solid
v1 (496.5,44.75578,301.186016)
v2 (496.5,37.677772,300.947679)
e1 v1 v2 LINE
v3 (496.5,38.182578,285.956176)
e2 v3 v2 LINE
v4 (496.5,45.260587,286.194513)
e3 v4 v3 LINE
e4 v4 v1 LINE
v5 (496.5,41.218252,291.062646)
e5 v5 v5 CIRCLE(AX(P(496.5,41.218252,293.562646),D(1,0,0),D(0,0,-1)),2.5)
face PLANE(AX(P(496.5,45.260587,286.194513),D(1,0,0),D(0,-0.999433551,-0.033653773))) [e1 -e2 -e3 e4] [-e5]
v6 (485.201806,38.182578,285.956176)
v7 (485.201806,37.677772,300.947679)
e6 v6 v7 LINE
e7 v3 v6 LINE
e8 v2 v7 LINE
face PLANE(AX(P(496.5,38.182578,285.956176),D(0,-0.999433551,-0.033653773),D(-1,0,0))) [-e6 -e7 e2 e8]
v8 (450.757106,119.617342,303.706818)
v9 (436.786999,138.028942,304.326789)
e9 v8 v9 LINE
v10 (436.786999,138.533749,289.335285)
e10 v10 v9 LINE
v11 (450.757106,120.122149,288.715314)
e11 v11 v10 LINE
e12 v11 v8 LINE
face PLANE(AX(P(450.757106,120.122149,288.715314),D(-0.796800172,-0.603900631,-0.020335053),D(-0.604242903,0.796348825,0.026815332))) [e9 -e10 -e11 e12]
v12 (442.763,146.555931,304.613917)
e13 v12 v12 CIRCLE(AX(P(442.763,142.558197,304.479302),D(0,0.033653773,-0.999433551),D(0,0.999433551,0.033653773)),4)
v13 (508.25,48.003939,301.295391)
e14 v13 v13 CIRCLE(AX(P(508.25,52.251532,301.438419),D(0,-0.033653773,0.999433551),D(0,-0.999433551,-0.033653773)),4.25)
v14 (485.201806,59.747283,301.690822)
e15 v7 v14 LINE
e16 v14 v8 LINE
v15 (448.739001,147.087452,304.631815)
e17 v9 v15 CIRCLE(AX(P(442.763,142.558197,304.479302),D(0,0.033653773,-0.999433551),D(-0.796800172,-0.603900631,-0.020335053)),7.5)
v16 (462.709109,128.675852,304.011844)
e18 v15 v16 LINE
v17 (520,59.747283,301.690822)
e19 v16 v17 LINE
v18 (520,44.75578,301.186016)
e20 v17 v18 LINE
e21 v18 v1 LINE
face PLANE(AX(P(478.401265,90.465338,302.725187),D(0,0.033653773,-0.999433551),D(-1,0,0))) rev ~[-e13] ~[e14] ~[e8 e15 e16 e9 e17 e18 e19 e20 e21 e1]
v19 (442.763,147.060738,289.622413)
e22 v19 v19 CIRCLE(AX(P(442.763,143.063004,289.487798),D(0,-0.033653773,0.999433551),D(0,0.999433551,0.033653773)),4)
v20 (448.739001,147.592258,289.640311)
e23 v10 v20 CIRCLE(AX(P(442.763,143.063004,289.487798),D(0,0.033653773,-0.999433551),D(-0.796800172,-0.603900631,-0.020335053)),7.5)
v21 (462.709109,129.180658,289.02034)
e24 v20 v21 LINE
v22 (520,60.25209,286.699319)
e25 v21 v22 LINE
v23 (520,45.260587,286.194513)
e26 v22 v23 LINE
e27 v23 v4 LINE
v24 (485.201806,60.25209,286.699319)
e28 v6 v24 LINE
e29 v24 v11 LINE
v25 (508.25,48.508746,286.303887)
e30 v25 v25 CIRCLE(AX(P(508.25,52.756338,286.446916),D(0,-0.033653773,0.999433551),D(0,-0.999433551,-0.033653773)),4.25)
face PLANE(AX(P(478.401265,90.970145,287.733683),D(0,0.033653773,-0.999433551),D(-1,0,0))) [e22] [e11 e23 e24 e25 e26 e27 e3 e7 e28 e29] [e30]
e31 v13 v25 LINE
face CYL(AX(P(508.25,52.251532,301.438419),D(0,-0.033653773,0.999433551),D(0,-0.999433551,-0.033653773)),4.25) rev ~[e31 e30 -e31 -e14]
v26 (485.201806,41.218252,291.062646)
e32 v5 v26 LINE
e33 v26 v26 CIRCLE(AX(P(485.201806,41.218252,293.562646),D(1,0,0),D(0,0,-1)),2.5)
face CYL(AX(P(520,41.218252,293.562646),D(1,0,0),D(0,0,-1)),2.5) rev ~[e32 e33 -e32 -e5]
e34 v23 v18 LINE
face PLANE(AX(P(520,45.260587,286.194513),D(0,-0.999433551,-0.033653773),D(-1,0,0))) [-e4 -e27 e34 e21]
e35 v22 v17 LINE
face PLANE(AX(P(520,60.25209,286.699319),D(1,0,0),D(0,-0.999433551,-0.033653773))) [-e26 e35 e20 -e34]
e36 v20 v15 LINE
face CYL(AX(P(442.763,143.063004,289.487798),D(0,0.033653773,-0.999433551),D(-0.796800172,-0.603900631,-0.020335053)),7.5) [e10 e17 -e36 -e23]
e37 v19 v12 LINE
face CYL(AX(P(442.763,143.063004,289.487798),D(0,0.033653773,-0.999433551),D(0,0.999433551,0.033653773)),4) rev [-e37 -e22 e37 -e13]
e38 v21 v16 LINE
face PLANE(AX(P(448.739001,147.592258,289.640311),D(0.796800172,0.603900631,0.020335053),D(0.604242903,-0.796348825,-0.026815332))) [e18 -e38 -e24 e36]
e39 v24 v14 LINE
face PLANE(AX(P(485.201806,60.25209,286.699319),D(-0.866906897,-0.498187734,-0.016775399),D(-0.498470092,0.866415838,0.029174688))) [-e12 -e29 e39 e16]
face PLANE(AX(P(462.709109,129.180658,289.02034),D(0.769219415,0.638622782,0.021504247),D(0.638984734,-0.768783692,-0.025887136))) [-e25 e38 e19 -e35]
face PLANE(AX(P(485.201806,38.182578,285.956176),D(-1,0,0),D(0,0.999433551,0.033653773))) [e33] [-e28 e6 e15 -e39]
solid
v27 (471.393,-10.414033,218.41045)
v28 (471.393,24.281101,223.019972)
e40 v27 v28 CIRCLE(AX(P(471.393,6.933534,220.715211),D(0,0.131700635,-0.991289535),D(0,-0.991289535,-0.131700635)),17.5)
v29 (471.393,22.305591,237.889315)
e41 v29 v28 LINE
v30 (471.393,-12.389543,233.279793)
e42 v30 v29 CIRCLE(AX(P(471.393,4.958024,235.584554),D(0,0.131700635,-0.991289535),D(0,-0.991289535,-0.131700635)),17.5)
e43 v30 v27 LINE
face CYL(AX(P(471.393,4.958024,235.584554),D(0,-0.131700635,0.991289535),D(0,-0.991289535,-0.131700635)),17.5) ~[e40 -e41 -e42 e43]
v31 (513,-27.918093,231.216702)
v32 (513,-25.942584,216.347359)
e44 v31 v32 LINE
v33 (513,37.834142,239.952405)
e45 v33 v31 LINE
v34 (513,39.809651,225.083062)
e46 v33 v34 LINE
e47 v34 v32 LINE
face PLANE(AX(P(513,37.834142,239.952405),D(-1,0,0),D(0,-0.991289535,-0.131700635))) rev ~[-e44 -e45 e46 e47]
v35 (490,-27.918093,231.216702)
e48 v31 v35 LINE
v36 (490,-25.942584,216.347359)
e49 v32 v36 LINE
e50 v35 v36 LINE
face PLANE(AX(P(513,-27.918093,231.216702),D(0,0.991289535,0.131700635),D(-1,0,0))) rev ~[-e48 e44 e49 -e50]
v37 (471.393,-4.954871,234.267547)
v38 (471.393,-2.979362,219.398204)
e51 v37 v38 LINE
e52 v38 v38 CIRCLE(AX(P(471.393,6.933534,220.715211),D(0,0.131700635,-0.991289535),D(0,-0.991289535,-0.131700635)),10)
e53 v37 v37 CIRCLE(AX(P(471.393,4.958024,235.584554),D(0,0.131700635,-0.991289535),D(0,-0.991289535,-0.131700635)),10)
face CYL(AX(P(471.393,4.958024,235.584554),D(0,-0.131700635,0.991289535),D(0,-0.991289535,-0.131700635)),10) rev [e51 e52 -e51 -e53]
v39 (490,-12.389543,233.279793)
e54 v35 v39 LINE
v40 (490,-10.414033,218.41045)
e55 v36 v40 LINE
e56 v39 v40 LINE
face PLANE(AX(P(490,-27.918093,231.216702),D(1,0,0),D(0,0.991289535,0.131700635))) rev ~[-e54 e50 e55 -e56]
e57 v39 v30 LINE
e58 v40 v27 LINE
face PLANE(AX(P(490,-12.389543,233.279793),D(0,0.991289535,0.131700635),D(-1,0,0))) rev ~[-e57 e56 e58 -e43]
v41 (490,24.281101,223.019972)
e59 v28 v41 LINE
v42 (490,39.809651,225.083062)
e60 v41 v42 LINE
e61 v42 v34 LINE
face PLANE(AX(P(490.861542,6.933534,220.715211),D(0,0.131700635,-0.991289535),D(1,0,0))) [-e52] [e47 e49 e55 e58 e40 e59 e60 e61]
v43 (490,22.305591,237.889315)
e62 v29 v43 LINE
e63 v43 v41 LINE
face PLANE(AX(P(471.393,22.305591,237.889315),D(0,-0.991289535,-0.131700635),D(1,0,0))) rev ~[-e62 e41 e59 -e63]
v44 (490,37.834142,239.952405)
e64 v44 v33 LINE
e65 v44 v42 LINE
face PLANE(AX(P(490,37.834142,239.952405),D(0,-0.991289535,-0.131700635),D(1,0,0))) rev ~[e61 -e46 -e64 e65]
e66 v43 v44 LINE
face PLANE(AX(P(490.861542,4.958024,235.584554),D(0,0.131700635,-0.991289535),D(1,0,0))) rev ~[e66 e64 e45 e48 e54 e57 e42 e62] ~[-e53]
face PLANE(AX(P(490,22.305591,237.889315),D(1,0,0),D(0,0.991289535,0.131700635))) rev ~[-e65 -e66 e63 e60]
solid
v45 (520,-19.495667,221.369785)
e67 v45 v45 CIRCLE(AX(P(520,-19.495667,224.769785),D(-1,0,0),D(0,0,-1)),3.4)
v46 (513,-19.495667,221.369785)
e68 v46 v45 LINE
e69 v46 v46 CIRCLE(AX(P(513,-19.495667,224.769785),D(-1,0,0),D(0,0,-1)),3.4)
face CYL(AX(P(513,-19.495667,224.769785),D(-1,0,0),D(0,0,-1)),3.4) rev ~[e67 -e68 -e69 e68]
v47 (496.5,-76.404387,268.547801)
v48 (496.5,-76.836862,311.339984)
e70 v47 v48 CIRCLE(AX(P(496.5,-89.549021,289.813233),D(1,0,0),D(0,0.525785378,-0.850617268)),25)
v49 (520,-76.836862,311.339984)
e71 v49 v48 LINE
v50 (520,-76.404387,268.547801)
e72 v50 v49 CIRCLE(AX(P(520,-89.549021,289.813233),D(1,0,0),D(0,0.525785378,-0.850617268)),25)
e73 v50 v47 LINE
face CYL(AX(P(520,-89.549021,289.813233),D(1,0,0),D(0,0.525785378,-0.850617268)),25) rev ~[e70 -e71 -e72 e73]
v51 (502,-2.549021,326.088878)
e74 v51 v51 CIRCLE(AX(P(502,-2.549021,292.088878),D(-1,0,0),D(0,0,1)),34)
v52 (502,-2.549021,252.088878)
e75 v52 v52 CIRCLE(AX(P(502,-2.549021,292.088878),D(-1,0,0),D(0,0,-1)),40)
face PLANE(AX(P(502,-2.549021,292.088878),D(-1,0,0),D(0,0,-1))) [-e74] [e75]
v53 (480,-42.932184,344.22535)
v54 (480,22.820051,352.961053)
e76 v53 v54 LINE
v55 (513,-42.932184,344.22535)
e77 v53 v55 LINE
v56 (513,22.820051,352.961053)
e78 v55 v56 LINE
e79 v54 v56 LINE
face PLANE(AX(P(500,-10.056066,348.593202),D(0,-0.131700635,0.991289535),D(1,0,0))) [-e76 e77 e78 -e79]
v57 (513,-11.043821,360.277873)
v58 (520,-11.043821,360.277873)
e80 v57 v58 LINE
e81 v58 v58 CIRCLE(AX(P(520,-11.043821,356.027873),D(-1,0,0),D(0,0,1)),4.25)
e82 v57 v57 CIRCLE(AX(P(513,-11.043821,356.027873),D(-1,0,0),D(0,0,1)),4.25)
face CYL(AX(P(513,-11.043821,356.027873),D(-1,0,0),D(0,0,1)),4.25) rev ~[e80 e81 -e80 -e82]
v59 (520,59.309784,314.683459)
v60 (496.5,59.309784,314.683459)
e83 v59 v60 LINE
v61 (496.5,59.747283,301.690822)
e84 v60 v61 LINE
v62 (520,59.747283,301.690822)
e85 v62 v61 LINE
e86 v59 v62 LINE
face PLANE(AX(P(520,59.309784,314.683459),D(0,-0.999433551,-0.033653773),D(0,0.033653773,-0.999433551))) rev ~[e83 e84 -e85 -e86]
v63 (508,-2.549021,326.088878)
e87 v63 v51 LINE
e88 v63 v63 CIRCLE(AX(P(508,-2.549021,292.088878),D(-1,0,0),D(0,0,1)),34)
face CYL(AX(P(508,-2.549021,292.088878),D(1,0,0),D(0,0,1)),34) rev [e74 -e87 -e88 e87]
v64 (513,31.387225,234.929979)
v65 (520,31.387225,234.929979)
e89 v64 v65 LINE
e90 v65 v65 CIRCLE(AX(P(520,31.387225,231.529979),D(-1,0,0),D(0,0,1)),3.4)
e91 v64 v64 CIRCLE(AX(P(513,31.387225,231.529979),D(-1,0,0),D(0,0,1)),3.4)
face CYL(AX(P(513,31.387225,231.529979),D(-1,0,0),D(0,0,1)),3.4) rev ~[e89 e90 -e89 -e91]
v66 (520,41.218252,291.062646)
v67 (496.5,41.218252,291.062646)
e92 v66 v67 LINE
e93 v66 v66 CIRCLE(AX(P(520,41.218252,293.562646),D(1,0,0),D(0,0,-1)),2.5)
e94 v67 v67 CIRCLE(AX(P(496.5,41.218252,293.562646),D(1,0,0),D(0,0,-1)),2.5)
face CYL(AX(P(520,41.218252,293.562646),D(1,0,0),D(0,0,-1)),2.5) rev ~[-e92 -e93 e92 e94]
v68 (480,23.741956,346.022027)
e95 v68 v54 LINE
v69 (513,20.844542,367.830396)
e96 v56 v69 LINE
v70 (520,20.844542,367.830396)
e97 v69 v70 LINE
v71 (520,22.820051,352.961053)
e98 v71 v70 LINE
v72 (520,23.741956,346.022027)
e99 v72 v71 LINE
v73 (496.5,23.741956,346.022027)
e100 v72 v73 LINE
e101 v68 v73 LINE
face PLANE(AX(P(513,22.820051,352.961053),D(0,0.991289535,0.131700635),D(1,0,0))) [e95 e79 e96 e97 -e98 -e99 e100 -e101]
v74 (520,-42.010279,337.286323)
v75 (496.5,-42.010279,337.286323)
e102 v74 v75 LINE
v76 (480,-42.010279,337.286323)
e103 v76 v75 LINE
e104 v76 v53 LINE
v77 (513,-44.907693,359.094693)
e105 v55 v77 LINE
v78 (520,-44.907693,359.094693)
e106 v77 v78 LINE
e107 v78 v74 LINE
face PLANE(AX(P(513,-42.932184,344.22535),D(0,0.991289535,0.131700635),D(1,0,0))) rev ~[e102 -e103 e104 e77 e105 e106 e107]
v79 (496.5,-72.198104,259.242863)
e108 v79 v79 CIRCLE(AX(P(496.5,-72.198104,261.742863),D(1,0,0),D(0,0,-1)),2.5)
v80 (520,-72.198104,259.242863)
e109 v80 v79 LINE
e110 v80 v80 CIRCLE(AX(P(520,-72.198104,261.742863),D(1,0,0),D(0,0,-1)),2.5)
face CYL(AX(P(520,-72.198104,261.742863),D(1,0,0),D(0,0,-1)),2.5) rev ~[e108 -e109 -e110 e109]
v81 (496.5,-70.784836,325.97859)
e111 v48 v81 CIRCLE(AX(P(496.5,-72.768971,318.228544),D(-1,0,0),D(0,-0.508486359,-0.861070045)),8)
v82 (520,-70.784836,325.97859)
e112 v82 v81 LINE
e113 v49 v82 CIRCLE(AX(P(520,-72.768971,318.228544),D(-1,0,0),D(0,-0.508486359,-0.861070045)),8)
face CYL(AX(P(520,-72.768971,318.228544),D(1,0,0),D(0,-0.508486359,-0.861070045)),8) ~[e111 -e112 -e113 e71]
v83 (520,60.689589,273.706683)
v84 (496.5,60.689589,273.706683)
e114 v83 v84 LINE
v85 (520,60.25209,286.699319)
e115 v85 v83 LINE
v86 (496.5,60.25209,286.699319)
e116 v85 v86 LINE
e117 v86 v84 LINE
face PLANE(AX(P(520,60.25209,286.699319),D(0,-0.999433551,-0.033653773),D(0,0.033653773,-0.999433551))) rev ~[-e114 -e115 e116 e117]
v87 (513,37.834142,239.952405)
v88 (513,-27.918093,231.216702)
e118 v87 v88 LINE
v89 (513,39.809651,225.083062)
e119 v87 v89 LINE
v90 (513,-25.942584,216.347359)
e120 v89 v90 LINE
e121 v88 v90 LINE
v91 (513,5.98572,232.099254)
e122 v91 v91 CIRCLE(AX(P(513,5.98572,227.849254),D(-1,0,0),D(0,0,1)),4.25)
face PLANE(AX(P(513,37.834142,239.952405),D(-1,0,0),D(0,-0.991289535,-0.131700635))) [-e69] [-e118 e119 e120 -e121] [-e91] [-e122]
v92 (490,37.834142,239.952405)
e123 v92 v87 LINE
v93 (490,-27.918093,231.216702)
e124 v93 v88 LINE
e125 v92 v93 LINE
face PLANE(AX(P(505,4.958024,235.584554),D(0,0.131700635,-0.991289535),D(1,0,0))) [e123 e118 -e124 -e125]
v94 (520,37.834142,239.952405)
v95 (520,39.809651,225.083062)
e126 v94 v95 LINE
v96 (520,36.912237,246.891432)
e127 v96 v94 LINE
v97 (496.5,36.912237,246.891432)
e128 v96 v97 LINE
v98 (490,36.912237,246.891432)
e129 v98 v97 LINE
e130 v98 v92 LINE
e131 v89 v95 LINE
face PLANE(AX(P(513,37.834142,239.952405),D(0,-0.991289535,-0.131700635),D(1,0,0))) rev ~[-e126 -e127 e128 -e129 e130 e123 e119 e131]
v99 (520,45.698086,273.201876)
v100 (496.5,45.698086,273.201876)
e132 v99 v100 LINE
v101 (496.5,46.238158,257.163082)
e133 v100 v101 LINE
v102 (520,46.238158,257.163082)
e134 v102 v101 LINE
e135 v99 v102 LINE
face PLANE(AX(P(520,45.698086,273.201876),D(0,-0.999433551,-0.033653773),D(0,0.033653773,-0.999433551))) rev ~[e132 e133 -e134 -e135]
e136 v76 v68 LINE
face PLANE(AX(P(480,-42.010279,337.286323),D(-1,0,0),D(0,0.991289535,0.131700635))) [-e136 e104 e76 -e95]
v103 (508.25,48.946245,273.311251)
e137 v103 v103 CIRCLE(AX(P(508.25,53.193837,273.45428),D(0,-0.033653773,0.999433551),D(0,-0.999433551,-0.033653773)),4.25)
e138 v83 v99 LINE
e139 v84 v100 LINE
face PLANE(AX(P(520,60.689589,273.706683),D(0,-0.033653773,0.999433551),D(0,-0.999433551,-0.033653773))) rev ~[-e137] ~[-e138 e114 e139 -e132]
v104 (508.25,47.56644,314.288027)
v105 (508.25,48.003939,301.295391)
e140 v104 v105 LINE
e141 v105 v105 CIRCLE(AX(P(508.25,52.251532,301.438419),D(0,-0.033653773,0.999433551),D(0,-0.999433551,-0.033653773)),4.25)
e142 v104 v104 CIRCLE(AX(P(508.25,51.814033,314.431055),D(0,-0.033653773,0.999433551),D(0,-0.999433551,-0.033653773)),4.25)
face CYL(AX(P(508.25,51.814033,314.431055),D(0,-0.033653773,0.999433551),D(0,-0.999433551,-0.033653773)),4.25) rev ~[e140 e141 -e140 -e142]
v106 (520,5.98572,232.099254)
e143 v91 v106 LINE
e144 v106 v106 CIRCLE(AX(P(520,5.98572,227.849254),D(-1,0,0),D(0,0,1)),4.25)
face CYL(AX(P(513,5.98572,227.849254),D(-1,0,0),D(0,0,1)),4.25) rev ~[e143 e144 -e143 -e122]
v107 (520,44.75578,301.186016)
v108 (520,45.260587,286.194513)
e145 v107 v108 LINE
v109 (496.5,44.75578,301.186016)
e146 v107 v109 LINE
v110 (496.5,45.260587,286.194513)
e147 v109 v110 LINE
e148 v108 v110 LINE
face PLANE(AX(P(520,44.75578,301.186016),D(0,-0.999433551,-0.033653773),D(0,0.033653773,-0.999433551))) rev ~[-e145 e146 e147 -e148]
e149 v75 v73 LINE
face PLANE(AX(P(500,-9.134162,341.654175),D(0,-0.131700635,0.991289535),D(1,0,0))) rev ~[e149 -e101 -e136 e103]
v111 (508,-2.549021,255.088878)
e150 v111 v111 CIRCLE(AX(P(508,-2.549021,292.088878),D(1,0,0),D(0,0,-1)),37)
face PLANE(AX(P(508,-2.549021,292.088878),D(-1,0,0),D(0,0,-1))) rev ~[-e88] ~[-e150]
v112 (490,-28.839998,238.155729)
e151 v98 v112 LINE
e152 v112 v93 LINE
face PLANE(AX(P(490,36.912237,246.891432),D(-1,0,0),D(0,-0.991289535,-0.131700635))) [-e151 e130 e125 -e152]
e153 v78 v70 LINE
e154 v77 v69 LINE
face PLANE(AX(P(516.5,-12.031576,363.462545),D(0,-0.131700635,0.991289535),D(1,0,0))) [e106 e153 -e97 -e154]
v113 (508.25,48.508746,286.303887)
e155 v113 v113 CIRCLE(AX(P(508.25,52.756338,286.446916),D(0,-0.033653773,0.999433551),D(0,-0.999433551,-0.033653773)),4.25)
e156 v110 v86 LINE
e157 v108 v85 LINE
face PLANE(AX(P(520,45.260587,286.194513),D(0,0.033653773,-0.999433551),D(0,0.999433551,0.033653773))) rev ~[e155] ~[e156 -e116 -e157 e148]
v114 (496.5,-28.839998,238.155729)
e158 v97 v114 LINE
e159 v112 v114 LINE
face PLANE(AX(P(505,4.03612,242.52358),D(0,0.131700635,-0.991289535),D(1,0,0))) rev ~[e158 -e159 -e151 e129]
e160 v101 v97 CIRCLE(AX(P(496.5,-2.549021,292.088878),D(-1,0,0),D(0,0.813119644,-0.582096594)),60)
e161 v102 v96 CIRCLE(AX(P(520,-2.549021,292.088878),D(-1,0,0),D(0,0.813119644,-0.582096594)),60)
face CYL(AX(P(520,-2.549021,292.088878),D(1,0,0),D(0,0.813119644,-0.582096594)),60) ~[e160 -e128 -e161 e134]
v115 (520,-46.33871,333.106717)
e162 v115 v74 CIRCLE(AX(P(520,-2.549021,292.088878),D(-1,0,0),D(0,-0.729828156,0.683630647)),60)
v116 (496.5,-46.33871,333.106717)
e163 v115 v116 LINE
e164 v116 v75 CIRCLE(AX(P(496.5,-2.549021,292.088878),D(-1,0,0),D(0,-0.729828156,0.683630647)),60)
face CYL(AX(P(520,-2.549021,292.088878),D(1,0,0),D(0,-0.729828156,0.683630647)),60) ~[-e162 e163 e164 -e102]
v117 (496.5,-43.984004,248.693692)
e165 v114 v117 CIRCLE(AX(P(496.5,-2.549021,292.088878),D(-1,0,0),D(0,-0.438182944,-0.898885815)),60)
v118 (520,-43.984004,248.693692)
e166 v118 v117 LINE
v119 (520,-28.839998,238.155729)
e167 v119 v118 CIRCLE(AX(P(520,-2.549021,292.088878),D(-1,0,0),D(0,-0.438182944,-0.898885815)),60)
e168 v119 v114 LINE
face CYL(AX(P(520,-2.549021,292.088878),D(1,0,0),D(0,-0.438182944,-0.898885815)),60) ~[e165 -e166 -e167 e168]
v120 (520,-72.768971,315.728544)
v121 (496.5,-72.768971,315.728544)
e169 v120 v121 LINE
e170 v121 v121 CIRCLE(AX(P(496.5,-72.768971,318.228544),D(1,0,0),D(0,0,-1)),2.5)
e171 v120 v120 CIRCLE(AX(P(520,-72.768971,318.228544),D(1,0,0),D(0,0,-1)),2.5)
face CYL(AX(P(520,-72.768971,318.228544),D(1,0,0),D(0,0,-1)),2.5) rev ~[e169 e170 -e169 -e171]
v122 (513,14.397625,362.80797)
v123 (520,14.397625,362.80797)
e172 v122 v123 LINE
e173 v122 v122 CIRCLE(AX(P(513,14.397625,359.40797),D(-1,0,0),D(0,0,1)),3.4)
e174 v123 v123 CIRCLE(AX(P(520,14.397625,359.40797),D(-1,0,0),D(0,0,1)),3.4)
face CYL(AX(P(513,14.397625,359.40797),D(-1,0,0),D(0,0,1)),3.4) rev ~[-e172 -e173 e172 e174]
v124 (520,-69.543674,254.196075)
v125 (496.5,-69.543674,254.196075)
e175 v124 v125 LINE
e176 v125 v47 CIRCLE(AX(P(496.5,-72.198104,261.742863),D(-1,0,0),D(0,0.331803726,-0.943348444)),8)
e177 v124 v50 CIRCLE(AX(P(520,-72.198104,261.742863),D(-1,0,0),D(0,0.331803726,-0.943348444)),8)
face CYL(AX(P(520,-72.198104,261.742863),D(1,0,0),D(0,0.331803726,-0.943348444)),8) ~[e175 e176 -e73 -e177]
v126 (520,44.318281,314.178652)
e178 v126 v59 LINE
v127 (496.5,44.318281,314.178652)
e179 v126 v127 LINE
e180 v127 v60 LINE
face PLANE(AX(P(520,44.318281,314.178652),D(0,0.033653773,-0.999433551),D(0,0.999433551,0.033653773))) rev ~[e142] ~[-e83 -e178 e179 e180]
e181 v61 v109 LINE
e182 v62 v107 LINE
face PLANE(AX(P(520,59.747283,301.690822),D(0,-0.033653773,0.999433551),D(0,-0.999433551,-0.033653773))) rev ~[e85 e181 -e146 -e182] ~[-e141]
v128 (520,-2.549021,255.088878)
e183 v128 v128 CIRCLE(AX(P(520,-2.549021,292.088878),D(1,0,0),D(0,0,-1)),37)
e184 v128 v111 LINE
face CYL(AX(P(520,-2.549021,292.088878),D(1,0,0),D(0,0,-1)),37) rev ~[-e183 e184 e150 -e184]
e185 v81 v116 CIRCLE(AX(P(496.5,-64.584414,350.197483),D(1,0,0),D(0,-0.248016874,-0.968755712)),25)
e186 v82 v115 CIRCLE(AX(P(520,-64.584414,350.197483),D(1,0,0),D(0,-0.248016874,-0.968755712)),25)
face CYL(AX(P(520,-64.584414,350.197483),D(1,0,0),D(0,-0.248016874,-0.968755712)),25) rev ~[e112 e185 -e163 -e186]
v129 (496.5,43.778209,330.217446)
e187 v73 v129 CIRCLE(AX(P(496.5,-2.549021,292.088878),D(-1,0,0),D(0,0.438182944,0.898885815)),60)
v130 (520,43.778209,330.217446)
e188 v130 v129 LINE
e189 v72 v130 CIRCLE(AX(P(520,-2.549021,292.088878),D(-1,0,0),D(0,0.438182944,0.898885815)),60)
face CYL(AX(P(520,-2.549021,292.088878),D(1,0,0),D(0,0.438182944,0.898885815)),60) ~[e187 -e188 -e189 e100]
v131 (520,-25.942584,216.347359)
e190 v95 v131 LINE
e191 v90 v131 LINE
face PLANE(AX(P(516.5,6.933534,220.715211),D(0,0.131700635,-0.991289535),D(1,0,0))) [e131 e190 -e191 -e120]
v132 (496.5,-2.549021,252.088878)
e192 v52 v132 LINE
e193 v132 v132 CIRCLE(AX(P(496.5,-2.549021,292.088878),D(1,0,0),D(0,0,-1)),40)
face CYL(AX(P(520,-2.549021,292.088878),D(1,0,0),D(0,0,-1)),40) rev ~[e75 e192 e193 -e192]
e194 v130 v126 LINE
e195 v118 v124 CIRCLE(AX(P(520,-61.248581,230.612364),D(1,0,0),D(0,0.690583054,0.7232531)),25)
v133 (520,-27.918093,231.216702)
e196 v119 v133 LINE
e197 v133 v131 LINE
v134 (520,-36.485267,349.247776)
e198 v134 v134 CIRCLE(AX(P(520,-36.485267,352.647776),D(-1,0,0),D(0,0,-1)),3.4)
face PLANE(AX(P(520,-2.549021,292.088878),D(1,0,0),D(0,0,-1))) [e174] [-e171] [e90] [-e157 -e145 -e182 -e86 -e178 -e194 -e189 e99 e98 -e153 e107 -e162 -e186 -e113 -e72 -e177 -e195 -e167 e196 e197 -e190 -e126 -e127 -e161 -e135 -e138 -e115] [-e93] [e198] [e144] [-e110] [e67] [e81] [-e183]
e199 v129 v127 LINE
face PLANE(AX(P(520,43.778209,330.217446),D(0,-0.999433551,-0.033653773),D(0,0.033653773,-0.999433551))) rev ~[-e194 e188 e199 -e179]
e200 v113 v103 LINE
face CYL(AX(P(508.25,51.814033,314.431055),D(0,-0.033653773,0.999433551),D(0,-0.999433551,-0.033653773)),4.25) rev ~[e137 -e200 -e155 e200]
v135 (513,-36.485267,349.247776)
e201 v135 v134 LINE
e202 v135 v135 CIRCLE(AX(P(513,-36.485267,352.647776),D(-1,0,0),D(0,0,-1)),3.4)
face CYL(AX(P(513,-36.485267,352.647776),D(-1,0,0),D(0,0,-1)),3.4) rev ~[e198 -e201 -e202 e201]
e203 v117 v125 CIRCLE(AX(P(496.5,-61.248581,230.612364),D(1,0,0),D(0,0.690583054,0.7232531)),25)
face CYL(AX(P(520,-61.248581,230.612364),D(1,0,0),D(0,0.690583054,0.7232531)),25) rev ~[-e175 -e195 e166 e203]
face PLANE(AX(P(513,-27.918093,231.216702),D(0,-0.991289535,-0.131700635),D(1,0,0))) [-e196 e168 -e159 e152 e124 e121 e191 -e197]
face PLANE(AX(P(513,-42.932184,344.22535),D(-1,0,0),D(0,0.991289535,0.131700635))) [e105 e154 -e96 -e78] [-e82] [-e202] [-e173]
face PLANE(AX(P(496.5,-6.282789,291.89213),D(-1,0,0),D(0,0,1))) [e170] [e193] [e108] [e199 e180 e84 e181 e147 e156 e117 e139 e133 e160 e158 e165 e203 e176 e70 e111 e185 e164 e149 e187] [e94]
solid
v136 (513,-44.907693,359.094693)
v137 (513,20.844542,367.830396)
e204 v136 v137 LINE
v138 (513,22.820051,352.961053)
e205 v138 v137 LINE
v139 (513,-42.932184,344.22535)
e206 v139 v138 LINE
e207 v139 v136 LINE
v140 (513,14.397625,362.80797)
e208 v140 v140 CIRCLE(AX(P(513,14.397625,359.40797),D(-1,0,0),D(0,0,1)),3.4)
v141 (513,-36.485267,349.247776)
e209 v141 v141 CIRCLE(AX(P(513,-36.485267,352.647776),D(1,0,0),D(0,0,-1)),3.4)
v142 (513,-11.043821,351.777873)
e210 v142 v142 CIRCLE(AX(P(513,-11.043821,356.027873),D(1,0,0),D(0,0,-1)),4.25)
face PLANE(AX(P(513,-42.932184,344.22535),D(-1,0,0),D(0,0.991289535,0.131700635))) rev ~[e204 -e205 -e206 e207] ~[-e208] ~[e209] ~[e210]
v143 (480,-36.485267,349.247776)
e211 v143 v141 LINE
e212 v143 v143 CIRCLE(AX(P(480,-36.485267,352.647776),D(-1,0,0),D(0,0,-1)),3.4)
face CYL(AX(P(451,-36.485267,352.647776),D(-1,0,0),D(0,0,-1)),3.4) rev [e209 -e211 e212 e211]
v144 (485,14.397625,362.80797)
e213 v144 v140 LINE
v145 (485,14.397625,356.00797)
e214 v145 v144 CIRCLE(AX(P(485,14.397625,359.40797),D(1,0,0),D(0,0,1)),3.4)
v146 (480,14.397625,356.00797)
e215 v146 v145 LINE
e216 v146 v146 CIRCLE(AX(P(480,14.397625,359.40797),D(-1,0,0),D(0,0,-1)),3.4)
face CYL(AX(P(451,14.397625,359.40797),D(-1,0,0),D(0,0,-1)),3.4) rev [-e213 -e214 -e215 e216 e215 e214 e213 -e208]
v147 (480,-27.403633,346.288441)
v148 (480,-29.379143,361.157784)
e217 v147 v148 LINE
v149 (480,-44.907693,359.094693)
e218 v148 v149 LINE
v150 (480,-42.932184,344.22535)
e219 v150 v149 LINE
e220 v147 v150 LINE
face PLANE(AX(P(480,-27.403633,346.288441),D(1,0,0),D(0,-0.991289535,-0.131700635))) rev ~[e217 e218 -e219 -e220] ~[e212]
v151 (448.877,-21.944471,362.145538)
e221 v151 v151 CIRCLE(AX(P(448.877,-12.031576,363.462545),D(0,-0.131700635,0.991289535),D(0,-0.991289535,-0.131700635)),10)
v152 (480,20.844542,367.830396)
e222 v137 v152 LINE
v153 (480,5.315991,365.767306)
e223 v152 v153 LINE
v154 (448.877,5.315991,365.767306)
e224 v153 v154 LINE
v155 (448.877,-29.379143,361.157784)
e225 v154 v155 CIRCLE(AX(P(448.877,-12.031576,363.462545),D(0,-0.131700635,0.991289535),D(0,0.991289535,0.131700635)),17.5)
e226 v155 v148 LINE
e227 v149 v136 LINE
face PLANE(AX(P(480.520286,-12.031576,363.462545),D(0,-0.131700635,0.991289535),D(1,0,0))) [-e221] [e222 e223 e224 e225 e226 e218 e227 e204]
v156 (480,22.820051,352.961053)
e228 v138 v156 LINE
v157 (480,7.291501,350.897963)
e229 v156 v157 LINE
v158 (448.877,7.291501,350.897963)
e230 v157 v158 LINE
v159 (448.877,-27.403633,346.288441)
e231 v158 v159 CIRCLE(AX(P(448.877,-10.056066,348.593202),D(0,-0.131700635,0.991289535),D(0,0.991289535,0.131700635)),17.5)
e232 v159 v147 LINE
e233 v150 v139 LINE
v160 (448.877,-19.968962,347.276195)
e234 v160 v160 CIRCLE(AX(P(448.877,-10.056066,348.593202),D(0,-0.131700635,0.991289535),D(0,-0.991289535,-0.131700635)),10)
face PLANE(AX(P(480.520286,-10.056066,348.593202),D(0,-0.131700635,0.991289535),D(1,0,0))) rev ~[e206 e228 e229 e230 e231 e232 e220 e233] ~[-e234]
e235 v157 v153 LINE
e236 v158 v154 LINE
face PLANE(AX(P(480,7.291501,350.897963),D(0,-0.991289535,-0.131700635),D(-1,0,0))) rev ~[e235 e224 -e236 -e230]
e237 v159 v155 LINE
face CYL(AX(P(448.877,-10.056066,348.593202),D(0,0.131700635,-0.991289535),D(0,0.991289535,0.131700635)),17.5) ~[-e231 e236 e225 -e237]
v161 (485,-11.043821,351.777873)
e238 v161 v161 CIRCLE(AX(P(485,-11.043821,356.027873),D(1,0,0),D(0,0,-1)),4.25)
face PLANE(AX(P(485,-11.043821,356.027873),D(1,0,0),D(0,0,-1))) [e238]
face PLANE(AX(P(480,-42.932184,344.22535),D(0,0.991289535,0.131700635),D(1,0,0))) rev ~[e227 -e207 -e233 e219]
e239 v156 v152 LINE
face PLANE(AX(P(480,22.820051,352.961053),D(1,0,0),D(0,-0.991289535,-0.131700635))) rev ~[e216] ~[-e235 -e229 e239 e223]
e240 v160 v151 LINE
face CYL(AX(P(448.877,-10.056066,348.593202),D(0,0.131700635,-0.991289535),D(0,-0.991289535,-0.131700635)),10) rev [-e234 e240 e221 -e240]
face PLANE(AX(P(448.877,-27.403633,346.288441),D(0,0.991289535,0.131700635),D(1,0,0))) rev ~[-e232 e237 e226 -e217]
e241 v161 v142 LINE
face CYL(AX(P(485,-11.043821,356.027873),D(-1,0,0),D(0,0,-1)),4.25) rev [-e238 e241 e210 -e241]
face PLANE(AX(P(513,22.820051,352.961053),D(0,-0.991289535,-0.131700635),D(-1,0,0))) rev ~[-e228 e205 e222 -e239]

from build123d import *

# Parameters (mm, degrees)
BOSS_EXTRUDE1_DEPTH  = 23.5
SKETCH2_R            = 40
SKETCH2_R_2          = 2.5
CUT_EXTRUDE3_DEPTH   = 54.5
SKETCH3_R            = 4.25
CUT_EXTRUDE4_DEPTH   = 54.5
SKETCH5_W            = 30
SKETCH5_H            = 66.33
BOSS_EXTRUDE2_DEPTH  = 7
SKETCH8_W            = 7
SKETCH8_H            = 66.33
BOSS_EXTRUDE4_DEPTH  = 15
SKETCH9_R            = 3.4
SKETCH9_R_2          = 4.25
CUT_EXTRUDE7_DEPTH   = 15
SKETCH13_W           = 40
SKETCH13_H           = 66.33
BOSS_EXTRUDE9_DEPTH  = 7
SKETCH16_W           = 7
SKETCH16_H           = 66.33
BOSS_EXTRUDE10_DEPTH = 15
SKETCH18_R           = 3.4
SKETCH18_R_2         = 4.25
CUT_EXTRUDE10_DEPTH  = 15
SKETCH19_R           = 40
SKETCH19_R_2         = 34
BOSS_EXTRUDE11_DEPTH = 6
BOSS_EXTRUDE12_START = 12
SKETCH20_R           = 40
SKETCH20_R_2         = 37
BOSS_EXTRUDE12_DEPTH = 12
SKETCH22_R           = 10
BOSS_EXTRUDE13_DEPTH = 15
CUT_EXTRUDE11_START  = -28
SKETCH23_R           = 3.4
SKETCH23_R_2         = 4.25
CUT_EXTRUDE11_DEPTH  = 28
CUT_EXTRUDE12_START  = -62
SKETCH23_2_R         = 3.4
CUT_EXTRUDE12_DEPTH  = 62
CUT_EXTRUDE13_START  = -62
SKETCH23_3_R         = 3.4
CUT_EXTRUDE13_DEPTH  = 62
SKETCH25_R           = 10
BOSS_EXTRUDE14_DEPTH = 15
BOSS_EXTRUDE15_DEPTH = 15
SKETCH26_4_R         = 4
CUT_EXTRUDE15_DEPTH  = 89
SKETCH2_2_R          = 2.5
CUT_EXTRUDE16_DEPTH  = 89
SKETCH27_R           = 4.25
CUT_EXTRUDE17_DEPTH  = 36


with BuildPart() as part:
    # Sketch1 → Boss-Extrude1 (new body)
    with BuildSketch(Plane(origin=(520, -2.549021019, 292.088877727), x_dir=(0, 0, 1), z_dir=(-1, 0, 0))):
        with BuildLine():
            Line((22.089774265, 46.867302095), (22.594580859, 61.858805365))
            Line((22.594580859, 61.858805365), (9.601944692, 62.296304413))
            Line((9.601944692, 62.296304413), (9.097138098, 47.304801143))
            Line((9.097138098, 47.304801143), (-5.894365173, 47.809607737))
            Line((-5.894365173, 47.809607737), (-5.389558579, 62.801111007))
            Line((-5.389558579, 62.801111007), (-18.382194746, 63.238610055))
            Line((-18.382194746, 63.238610055), (-18.88700134, 48.247106785))
            Line((-18.88700134, 48.247106785), (-34.925795618, 48.787178648))
            ThreePointArc((-34.925795618, 48.787178648), (-40.332079644, 44.422104313), (-45.197445717, 39.461258224))
            Line((-45.197445717, 39.461258224), (-53.93314887, -26.290976646))
            ThreePointArc((-53.93314887, -26.290976646), (-49.249735275, -34.270447552), (-43.395185974, -41.434983218))
            ThreePointArc((-43.395185974, -41.434983218), (-37.0364227, -53.438194383), (-37.892802357, -66.994652715))
            ThreePointArc((-37.892802357, -66.994652715), (-33.796367, -76.866773964), (-23.541076661, -73.855365549))
            ThreePointArc((-23.541076661, -73.855365549), (-2.022997547, -62.001276647), (19.251106158, -74.287841015))
            ThreePointArc((19.251106158, -74.287841015), (29.196183083, -77.613035185), (33.889712216, -68.235815149))
            ThreePointArc((33.889712216, -68.235815149), (34.108079038, -55.03719694), (41.017838842, -43.789689389))
            ThreePointArc((41.017838842, -43.789689389), (43.161935221, -41.677899995), (45.197445717, -39.461258224))
            Line((45.197445717, -39.461258224), (53.93314887, 26.290976646))
            ThreePointArc((53.93314887, 26.290976646), (47.108415572, 37.159079407), (38.128568543, 46.327230231))
            Line((38.128568543, 46.327230231), (22.089774265, 46.867302095))
        make_face()
    extrude(amount=BOSS_EXTRUDE1_DEPTH)

    # Sketch2 → Cut-Extrude3 (cut)
    with BuildSketch(Plane.YZ.offset(520)):
        with Locations(Location((-2.549021019, 292.088877727, 0), (0, 0, 270))):
            Circle(SKETCH2_R)
        with Locations(Location((-72.768971159, 318.228544244, 0), (0, 0, 270))):
            Circle(SKETCH2_R_2)
        with Locations(Location((-72.198103544, 261.742862924, 0), (0, 0, 270))):
            Circle(SKETCH2_R_2)
        with Locations(Location((41.218252228, 293.562646417, 0), (0, 0, 270))):
            Circle(SKETCH2_R_2)
    extrude(amount=-CUT_EXTRUDE3_DEPTH, mode=Mode.SUBTRACT)

    # Sketch3 → Cut-Extrude4 (cut)
    with BuildSketch(Plane(origin=(0, -10.517113943, 312.332188133), x_dir=(1, 0, 0), z_dir=(1.6236027295165796e-15, -0.03365377293051974, 0.999433551351735))):
        with Locations(Location((508.25, 62.366474059, 0), (0, 0, 270))):
            Circle(SKETCH3_R)
    extrude(amount=-CUT_EXTRUDE4_DEPTH, mode=Mode.SUBTRACT)

    # Sketch5 → Boss-Extrude2 (add)
    with BuildSketch(Plane(origin=(0, -31.592286251, 237.790065605), x_dir=(1, 0, 0), z_dir=(-1.722759387163354e-15, 0.13170063549249003, -0.991289535206982))):
        with Locations((505, -35.941472956)):
            Rectangle(SKETCH5_W, SKETCH5_H)
    extrude(amount=BOSS_EXTRUDE2_DEPTH)

    # Sketch8 → Boss-Extrude4 (add)
    with BuildSketch(Plane(origin=(0, -30.670381803, 230.851038858), x_dir=(1, 0, 0), z_dir=(-2.1092287106944035e-15, 0.13170063549249048, -0.9912895352069819))):
        with Locations((516.5, -35.941472956)):
            Rectangle(SKETCH8_W, SKETCH8_H)
    extrude(amount=BOSS_EXTRUDE4_DEPTH)

    # Sketch9 → Cut-Extrude7 (cut)
    with BuildSketch(Plane(origin=(513, 0, 0), x_dir=(0, -1, 0), z_dir=(-1, 0, 0))):
        with Locations(Location((-31.387224906, 231.529978983, 0), (0, 0, 90))):
            Circle(SKETCH9_R)
        with Locations(Location((-5.985719838, 227.849253782, 0), (0, 0, 90))):
            Circle(SKETCH9_R_2)
        with Locations(Location((19.495666937, 224.769785363, 0), (0, 0, 270))):
            Circle(SKETCH9_R)
    extrude(amount=-CUT_EXTRUDE7_DEPTH, mode=Mode.SUBTRACT)

    # Sketch13 → Boss-Extrude9 (add)
    with BuildSketch(Plane(origin=(0, -44.762567829, 336.920660192), x_dir=(1, 0, 0), z_dir=(1.7227593871633543e-15, -0.13170063549248964, 0.991289535206982))):
        with Locations((500, 35.941472956)):
            Rectangle(SKETCH13_W, SKETCH13_H)
    extrude(amount=BOSS_EXTRUDE9_DEPTH)

    # Sketch16 → Boss-Extrude10 (add)
    with BuildSketch(Plane(origin=(0, -45.684472277, 343.859686938), x_dir=(1, 0, 0), z_dir=(1.998401444325282e-15, -0.13170063549248945, 0.9912895352069822))):
        with Locations((516.5, 35.941472956)):
            Rectangle(SKETCH16_W, SKETCH16_H)
    extrude(amount=BOSS_EXTRUDE10_DEPTH)

    # Sketch18 → Cut-Extrude10 (cut)
    with BuildSketch(Plane(origin=(513, 0, 0), x_dir=(0, -1, 0), z_dir=(-1, 0, 0))):
        with Locations(Location((-14.397624898, 359.407970091, 0), (0, 0, 90))):
            Circle(SKETCH18_R)
        with Locations(Location((11.043821023, 356.027873281, 0), (0, 0, 90))):
            Circle(SKETCH18_R_2)
        with Locations(Location((36.485266944, 352.647776471, 0), (0, 0, 270))):
            Circle(SKETCH18_R)
    extrude(amount=-CUT_EXTRUDE10_DEPTH, mode=Mode.SUBTRACT)

    # Sketch19 → Boss-Extrude11 (add)
    with BuildSketch(Plane(origin=(508, -2.549021019, 292.088877727), x_dir=(0, 0, 1), z_dir=(-1, 0, 0))):
        with Locations(Location((0, 0, 0), (0, 0, 180))):
            Circle(SKETCH19_R)
        Circle(SKETCH19_R_2, mode=Mode.SUBTRACT)
    extrude(amount=BOSS_EXTRUDE11_DEPTH)

    # Sketch20 → Boss-Extrude12 (add)
    with BuildSketch(Plane.YZ.offset(508).offset(BOSS_EXTRUDE12_START)):
        with Locations(Location((-2.549021019, 292.088877727, 0), (0, 0, 270))):
            Circle(SKETCH20_R)
        with Locations(Location((-2.549021019, 292.088877727, 0), (0, 0, 270))):
            Circle(SKETCH20_R_2, mode=Mode.SUBTRACT)
    extrude(amount=-BOSS_EXTRUDE12_DEPTH)


with BuildPart() as body_2:
    # Sketch22 → Boss-Extrude13 (new body)
    with BuildSketch(Plane(origin=(0, -45.684472277, 343.859686938), x_dir=(1, 0, 0), z_dir=(1.7069679003611784e-15, -0.13170063549248986, 0.9912895352069819))):
        with BuildLine():
            Line((448.877, 18.441472956), (480, 18.441472956))
            Line((480, 18.441472956), (480, 2.776472956))
            Line((480, 2.776472956), (513, 2.776472956))
            Line((513, 2.776472956), (513, 69.106472956))
            Line((513, 69.106472956), (480, 69.106472956))
            Line((480, 69.106472956), (480, 53.441472956))
            Line((480, 53.441472956), (448.877, 53.441472956))
            ThreePointArc((448.877, 53.441472956), (431.377, 35.941472956), (448.877, 18.441472956))
        make_face()
        with Locations(Location((448.877, 35.941472956, 0), (0, 0, 270))):
            Circle(SKETCH22_R, mode=Mode.SUBTRACT)
    extrude(amount=BOSS_EXTRUDE13_DEPTH)

    # Sketch23 → Cut-Extrude11 (cut)
    with BuildSketch(Plane.YZ.offset(513).offset(CUT_EXTRUDE11_START)):
        with Locations(Location((-36.485266944, 352.647776471, 0), (0, 0, 270))):
            Circle(SKETCH23_R)
        with Locations(Location((-11.043821023, 356.027873281, 0), (0, 0, 270))):
            Circle(SKETCH23_R_2)
        with Locations(Location((14.397624898, 359.407970091, 0), (0, 0, 90))):
            Circle(SKETCH23_R)
    extrude(amount=CUT_EXTRUDE11_DEPTH, mode=Mode.SUBTRACT)

    # Sketch23<2> → Cut-Extrude12 (cut)
    with BuildSketch(Plane.YZ.offset(513).offset(CUT_EXTRUDE12_START)):
        with Locations(Location((14.397624898, 359.407970091, 0), (0, 0, 270))):
            Circle(SKETCH23_2_R)
    extrude(amount=CUT_EXTRUDE12_DEPTH, mode=Mode.SUBTRACT)

    # Sketch23<3> → Cut-Extrude13 (cut)
    with BuildSketch(Plane.YZ.offset(513).offset(CUT_EXTRUDE13_START)):
        with Locations(Location((-36.485266944, 352.647776471, 0), (0, 0, 270))):
            Circle(SKETCH23_3_R)
    extrude(amount=CUT_EXTRUDE13_DEPTH, mode=Mode.SUBTRACT)


with BuildPart() as body_3:
    # Sketch25 → Boss-Extrude14 (new body)
    with BuildSketch(Plane(origin=(0, -30.670381803, 230.851038858), x_dir=(1, 0, 0), z_dir=(-2.109228710694403e-15, 0.13170063549249045, -0.9912895352069818))):
        with BuildLine():
            Line((490, -69.106472956), (513, -69.106472956))
            Line((513, -69.106472956), (513, -2.776472956))
            Line((513, -2.776472956), (490, -2.776472956))
            Line((490, -2.776472956), (490, -18.441472956))
            Line((490, -18.441472956), (480, -18.441472956))
            Line((480, -18.441472956), (471.393, -18.441472956))
            ThreePointArc((471.393, -18.441472956), (453.893, -35.941472956), (471.393, -53.441472956))
            Line((471.393, -53.441472956), (480, -53.441472956))
            Line((480, -53.441472956), (490, -53.441472956))
            Line((490, -53.441472956), (490, -69.106472956))
        make_face()
        with Locations(Location((471.393, -35.941472956, 0), (0, 0, 90))):
            Circle(SKETCH25_R, mode=Mode.SUBTRACT)
    extrude(amount=BOSS_EXTRUDE14_DEPTH)


with BuildPart() as body_4:
    # Sketch26 → Boss-Extrude15 (new body)
    with BuildSketch(Plane(origin=(0, -9.574808301, 284.348048695), x_dir=(1, 0, 0), z_dir=(1.6236027295165587e-15, -0.033653772930500696, 0.9994335513517356))):
        with BuildLine():
            Line((496.5, 54.866474059), (496.5, 47.784453864))
            Line((496.5, 47.784453864), (485.201806312, 47.784453864))
            Line((485.201806312, 47.784453864), (485.201806312, 69.866474059))
            Line((485.201806312, 69.866474059), (450.757106274, 129.770465291))
            Line((450.757106274, 129.770465291), (436.786998712, 148.192500608))
            ThreePointArc((436.786998712, 148.192500608), (438.231178225, 158.700323671), (448.739001288, 157.256144158))
            Line((448.739001288, 157.256144158), (462.709108851, 138.834108842))
            Line((462.709108851, 138.834108842), (520, 69.866474059))
            Line((520, 69.866474059), (520, 54.866474059))
            Line((520, 54.866474059), (496.5, 54.866474059))
        make_face()
    extrude(amount=BOSS_EXTRUDE15_DEPTH)

    # Sketch26<4> → Cut-Extrude15 (cut)
    with BuildSketch(Plane(origin=(0, -9.574808301, 284.348048695), x_dir=(1, 0, 0), z_dir=(1.6236027295165587e-15, -0.033653772930500696, 0.9994335513517356))):
        with Locations(Location((442.763, 152.724322383, 0), (0, 0, 90))):
            Circle(SKETCH26_4_R)
    extrude(amount=CUT_EXTRUDE15_DEPTH, mode=Mode.SUBTRACT)

    # Sketch2<2> → Cut-Extrude16 (cut)
    with BuildSketch(Plane.YZ.offset(520)):
        with Locations(Location((41.218252228, 293.562646417, 0), (0, 0, 270))):
            Circle(SKETCH2_2_R)
    extrude(amount=-CUT_EXTRUDE16_DEPTH, mode=Mode.SUBTRACT)

    # Sketch27 → Cut-Extrude17 (cut)
    with BuildSketch(Plane(origin=(0, -10.079614895, 299.339551965), x_dir=(1, 0, 0), z_dir=(1.623602729516559e-15, -0.033653772930500696, 0.9994335513517356))):
        with Locations(Location((508.25, 62.366474059, 0), (0, 0, 270))):
            Circle(SKETCH27_R)
    extrude(amount=-CUT_EXTRUDE17_DEPTH, mode=Mode.SUBTRACT)


solid = Compound([part.part, body_2.part, body_3.part, body_4.part])
